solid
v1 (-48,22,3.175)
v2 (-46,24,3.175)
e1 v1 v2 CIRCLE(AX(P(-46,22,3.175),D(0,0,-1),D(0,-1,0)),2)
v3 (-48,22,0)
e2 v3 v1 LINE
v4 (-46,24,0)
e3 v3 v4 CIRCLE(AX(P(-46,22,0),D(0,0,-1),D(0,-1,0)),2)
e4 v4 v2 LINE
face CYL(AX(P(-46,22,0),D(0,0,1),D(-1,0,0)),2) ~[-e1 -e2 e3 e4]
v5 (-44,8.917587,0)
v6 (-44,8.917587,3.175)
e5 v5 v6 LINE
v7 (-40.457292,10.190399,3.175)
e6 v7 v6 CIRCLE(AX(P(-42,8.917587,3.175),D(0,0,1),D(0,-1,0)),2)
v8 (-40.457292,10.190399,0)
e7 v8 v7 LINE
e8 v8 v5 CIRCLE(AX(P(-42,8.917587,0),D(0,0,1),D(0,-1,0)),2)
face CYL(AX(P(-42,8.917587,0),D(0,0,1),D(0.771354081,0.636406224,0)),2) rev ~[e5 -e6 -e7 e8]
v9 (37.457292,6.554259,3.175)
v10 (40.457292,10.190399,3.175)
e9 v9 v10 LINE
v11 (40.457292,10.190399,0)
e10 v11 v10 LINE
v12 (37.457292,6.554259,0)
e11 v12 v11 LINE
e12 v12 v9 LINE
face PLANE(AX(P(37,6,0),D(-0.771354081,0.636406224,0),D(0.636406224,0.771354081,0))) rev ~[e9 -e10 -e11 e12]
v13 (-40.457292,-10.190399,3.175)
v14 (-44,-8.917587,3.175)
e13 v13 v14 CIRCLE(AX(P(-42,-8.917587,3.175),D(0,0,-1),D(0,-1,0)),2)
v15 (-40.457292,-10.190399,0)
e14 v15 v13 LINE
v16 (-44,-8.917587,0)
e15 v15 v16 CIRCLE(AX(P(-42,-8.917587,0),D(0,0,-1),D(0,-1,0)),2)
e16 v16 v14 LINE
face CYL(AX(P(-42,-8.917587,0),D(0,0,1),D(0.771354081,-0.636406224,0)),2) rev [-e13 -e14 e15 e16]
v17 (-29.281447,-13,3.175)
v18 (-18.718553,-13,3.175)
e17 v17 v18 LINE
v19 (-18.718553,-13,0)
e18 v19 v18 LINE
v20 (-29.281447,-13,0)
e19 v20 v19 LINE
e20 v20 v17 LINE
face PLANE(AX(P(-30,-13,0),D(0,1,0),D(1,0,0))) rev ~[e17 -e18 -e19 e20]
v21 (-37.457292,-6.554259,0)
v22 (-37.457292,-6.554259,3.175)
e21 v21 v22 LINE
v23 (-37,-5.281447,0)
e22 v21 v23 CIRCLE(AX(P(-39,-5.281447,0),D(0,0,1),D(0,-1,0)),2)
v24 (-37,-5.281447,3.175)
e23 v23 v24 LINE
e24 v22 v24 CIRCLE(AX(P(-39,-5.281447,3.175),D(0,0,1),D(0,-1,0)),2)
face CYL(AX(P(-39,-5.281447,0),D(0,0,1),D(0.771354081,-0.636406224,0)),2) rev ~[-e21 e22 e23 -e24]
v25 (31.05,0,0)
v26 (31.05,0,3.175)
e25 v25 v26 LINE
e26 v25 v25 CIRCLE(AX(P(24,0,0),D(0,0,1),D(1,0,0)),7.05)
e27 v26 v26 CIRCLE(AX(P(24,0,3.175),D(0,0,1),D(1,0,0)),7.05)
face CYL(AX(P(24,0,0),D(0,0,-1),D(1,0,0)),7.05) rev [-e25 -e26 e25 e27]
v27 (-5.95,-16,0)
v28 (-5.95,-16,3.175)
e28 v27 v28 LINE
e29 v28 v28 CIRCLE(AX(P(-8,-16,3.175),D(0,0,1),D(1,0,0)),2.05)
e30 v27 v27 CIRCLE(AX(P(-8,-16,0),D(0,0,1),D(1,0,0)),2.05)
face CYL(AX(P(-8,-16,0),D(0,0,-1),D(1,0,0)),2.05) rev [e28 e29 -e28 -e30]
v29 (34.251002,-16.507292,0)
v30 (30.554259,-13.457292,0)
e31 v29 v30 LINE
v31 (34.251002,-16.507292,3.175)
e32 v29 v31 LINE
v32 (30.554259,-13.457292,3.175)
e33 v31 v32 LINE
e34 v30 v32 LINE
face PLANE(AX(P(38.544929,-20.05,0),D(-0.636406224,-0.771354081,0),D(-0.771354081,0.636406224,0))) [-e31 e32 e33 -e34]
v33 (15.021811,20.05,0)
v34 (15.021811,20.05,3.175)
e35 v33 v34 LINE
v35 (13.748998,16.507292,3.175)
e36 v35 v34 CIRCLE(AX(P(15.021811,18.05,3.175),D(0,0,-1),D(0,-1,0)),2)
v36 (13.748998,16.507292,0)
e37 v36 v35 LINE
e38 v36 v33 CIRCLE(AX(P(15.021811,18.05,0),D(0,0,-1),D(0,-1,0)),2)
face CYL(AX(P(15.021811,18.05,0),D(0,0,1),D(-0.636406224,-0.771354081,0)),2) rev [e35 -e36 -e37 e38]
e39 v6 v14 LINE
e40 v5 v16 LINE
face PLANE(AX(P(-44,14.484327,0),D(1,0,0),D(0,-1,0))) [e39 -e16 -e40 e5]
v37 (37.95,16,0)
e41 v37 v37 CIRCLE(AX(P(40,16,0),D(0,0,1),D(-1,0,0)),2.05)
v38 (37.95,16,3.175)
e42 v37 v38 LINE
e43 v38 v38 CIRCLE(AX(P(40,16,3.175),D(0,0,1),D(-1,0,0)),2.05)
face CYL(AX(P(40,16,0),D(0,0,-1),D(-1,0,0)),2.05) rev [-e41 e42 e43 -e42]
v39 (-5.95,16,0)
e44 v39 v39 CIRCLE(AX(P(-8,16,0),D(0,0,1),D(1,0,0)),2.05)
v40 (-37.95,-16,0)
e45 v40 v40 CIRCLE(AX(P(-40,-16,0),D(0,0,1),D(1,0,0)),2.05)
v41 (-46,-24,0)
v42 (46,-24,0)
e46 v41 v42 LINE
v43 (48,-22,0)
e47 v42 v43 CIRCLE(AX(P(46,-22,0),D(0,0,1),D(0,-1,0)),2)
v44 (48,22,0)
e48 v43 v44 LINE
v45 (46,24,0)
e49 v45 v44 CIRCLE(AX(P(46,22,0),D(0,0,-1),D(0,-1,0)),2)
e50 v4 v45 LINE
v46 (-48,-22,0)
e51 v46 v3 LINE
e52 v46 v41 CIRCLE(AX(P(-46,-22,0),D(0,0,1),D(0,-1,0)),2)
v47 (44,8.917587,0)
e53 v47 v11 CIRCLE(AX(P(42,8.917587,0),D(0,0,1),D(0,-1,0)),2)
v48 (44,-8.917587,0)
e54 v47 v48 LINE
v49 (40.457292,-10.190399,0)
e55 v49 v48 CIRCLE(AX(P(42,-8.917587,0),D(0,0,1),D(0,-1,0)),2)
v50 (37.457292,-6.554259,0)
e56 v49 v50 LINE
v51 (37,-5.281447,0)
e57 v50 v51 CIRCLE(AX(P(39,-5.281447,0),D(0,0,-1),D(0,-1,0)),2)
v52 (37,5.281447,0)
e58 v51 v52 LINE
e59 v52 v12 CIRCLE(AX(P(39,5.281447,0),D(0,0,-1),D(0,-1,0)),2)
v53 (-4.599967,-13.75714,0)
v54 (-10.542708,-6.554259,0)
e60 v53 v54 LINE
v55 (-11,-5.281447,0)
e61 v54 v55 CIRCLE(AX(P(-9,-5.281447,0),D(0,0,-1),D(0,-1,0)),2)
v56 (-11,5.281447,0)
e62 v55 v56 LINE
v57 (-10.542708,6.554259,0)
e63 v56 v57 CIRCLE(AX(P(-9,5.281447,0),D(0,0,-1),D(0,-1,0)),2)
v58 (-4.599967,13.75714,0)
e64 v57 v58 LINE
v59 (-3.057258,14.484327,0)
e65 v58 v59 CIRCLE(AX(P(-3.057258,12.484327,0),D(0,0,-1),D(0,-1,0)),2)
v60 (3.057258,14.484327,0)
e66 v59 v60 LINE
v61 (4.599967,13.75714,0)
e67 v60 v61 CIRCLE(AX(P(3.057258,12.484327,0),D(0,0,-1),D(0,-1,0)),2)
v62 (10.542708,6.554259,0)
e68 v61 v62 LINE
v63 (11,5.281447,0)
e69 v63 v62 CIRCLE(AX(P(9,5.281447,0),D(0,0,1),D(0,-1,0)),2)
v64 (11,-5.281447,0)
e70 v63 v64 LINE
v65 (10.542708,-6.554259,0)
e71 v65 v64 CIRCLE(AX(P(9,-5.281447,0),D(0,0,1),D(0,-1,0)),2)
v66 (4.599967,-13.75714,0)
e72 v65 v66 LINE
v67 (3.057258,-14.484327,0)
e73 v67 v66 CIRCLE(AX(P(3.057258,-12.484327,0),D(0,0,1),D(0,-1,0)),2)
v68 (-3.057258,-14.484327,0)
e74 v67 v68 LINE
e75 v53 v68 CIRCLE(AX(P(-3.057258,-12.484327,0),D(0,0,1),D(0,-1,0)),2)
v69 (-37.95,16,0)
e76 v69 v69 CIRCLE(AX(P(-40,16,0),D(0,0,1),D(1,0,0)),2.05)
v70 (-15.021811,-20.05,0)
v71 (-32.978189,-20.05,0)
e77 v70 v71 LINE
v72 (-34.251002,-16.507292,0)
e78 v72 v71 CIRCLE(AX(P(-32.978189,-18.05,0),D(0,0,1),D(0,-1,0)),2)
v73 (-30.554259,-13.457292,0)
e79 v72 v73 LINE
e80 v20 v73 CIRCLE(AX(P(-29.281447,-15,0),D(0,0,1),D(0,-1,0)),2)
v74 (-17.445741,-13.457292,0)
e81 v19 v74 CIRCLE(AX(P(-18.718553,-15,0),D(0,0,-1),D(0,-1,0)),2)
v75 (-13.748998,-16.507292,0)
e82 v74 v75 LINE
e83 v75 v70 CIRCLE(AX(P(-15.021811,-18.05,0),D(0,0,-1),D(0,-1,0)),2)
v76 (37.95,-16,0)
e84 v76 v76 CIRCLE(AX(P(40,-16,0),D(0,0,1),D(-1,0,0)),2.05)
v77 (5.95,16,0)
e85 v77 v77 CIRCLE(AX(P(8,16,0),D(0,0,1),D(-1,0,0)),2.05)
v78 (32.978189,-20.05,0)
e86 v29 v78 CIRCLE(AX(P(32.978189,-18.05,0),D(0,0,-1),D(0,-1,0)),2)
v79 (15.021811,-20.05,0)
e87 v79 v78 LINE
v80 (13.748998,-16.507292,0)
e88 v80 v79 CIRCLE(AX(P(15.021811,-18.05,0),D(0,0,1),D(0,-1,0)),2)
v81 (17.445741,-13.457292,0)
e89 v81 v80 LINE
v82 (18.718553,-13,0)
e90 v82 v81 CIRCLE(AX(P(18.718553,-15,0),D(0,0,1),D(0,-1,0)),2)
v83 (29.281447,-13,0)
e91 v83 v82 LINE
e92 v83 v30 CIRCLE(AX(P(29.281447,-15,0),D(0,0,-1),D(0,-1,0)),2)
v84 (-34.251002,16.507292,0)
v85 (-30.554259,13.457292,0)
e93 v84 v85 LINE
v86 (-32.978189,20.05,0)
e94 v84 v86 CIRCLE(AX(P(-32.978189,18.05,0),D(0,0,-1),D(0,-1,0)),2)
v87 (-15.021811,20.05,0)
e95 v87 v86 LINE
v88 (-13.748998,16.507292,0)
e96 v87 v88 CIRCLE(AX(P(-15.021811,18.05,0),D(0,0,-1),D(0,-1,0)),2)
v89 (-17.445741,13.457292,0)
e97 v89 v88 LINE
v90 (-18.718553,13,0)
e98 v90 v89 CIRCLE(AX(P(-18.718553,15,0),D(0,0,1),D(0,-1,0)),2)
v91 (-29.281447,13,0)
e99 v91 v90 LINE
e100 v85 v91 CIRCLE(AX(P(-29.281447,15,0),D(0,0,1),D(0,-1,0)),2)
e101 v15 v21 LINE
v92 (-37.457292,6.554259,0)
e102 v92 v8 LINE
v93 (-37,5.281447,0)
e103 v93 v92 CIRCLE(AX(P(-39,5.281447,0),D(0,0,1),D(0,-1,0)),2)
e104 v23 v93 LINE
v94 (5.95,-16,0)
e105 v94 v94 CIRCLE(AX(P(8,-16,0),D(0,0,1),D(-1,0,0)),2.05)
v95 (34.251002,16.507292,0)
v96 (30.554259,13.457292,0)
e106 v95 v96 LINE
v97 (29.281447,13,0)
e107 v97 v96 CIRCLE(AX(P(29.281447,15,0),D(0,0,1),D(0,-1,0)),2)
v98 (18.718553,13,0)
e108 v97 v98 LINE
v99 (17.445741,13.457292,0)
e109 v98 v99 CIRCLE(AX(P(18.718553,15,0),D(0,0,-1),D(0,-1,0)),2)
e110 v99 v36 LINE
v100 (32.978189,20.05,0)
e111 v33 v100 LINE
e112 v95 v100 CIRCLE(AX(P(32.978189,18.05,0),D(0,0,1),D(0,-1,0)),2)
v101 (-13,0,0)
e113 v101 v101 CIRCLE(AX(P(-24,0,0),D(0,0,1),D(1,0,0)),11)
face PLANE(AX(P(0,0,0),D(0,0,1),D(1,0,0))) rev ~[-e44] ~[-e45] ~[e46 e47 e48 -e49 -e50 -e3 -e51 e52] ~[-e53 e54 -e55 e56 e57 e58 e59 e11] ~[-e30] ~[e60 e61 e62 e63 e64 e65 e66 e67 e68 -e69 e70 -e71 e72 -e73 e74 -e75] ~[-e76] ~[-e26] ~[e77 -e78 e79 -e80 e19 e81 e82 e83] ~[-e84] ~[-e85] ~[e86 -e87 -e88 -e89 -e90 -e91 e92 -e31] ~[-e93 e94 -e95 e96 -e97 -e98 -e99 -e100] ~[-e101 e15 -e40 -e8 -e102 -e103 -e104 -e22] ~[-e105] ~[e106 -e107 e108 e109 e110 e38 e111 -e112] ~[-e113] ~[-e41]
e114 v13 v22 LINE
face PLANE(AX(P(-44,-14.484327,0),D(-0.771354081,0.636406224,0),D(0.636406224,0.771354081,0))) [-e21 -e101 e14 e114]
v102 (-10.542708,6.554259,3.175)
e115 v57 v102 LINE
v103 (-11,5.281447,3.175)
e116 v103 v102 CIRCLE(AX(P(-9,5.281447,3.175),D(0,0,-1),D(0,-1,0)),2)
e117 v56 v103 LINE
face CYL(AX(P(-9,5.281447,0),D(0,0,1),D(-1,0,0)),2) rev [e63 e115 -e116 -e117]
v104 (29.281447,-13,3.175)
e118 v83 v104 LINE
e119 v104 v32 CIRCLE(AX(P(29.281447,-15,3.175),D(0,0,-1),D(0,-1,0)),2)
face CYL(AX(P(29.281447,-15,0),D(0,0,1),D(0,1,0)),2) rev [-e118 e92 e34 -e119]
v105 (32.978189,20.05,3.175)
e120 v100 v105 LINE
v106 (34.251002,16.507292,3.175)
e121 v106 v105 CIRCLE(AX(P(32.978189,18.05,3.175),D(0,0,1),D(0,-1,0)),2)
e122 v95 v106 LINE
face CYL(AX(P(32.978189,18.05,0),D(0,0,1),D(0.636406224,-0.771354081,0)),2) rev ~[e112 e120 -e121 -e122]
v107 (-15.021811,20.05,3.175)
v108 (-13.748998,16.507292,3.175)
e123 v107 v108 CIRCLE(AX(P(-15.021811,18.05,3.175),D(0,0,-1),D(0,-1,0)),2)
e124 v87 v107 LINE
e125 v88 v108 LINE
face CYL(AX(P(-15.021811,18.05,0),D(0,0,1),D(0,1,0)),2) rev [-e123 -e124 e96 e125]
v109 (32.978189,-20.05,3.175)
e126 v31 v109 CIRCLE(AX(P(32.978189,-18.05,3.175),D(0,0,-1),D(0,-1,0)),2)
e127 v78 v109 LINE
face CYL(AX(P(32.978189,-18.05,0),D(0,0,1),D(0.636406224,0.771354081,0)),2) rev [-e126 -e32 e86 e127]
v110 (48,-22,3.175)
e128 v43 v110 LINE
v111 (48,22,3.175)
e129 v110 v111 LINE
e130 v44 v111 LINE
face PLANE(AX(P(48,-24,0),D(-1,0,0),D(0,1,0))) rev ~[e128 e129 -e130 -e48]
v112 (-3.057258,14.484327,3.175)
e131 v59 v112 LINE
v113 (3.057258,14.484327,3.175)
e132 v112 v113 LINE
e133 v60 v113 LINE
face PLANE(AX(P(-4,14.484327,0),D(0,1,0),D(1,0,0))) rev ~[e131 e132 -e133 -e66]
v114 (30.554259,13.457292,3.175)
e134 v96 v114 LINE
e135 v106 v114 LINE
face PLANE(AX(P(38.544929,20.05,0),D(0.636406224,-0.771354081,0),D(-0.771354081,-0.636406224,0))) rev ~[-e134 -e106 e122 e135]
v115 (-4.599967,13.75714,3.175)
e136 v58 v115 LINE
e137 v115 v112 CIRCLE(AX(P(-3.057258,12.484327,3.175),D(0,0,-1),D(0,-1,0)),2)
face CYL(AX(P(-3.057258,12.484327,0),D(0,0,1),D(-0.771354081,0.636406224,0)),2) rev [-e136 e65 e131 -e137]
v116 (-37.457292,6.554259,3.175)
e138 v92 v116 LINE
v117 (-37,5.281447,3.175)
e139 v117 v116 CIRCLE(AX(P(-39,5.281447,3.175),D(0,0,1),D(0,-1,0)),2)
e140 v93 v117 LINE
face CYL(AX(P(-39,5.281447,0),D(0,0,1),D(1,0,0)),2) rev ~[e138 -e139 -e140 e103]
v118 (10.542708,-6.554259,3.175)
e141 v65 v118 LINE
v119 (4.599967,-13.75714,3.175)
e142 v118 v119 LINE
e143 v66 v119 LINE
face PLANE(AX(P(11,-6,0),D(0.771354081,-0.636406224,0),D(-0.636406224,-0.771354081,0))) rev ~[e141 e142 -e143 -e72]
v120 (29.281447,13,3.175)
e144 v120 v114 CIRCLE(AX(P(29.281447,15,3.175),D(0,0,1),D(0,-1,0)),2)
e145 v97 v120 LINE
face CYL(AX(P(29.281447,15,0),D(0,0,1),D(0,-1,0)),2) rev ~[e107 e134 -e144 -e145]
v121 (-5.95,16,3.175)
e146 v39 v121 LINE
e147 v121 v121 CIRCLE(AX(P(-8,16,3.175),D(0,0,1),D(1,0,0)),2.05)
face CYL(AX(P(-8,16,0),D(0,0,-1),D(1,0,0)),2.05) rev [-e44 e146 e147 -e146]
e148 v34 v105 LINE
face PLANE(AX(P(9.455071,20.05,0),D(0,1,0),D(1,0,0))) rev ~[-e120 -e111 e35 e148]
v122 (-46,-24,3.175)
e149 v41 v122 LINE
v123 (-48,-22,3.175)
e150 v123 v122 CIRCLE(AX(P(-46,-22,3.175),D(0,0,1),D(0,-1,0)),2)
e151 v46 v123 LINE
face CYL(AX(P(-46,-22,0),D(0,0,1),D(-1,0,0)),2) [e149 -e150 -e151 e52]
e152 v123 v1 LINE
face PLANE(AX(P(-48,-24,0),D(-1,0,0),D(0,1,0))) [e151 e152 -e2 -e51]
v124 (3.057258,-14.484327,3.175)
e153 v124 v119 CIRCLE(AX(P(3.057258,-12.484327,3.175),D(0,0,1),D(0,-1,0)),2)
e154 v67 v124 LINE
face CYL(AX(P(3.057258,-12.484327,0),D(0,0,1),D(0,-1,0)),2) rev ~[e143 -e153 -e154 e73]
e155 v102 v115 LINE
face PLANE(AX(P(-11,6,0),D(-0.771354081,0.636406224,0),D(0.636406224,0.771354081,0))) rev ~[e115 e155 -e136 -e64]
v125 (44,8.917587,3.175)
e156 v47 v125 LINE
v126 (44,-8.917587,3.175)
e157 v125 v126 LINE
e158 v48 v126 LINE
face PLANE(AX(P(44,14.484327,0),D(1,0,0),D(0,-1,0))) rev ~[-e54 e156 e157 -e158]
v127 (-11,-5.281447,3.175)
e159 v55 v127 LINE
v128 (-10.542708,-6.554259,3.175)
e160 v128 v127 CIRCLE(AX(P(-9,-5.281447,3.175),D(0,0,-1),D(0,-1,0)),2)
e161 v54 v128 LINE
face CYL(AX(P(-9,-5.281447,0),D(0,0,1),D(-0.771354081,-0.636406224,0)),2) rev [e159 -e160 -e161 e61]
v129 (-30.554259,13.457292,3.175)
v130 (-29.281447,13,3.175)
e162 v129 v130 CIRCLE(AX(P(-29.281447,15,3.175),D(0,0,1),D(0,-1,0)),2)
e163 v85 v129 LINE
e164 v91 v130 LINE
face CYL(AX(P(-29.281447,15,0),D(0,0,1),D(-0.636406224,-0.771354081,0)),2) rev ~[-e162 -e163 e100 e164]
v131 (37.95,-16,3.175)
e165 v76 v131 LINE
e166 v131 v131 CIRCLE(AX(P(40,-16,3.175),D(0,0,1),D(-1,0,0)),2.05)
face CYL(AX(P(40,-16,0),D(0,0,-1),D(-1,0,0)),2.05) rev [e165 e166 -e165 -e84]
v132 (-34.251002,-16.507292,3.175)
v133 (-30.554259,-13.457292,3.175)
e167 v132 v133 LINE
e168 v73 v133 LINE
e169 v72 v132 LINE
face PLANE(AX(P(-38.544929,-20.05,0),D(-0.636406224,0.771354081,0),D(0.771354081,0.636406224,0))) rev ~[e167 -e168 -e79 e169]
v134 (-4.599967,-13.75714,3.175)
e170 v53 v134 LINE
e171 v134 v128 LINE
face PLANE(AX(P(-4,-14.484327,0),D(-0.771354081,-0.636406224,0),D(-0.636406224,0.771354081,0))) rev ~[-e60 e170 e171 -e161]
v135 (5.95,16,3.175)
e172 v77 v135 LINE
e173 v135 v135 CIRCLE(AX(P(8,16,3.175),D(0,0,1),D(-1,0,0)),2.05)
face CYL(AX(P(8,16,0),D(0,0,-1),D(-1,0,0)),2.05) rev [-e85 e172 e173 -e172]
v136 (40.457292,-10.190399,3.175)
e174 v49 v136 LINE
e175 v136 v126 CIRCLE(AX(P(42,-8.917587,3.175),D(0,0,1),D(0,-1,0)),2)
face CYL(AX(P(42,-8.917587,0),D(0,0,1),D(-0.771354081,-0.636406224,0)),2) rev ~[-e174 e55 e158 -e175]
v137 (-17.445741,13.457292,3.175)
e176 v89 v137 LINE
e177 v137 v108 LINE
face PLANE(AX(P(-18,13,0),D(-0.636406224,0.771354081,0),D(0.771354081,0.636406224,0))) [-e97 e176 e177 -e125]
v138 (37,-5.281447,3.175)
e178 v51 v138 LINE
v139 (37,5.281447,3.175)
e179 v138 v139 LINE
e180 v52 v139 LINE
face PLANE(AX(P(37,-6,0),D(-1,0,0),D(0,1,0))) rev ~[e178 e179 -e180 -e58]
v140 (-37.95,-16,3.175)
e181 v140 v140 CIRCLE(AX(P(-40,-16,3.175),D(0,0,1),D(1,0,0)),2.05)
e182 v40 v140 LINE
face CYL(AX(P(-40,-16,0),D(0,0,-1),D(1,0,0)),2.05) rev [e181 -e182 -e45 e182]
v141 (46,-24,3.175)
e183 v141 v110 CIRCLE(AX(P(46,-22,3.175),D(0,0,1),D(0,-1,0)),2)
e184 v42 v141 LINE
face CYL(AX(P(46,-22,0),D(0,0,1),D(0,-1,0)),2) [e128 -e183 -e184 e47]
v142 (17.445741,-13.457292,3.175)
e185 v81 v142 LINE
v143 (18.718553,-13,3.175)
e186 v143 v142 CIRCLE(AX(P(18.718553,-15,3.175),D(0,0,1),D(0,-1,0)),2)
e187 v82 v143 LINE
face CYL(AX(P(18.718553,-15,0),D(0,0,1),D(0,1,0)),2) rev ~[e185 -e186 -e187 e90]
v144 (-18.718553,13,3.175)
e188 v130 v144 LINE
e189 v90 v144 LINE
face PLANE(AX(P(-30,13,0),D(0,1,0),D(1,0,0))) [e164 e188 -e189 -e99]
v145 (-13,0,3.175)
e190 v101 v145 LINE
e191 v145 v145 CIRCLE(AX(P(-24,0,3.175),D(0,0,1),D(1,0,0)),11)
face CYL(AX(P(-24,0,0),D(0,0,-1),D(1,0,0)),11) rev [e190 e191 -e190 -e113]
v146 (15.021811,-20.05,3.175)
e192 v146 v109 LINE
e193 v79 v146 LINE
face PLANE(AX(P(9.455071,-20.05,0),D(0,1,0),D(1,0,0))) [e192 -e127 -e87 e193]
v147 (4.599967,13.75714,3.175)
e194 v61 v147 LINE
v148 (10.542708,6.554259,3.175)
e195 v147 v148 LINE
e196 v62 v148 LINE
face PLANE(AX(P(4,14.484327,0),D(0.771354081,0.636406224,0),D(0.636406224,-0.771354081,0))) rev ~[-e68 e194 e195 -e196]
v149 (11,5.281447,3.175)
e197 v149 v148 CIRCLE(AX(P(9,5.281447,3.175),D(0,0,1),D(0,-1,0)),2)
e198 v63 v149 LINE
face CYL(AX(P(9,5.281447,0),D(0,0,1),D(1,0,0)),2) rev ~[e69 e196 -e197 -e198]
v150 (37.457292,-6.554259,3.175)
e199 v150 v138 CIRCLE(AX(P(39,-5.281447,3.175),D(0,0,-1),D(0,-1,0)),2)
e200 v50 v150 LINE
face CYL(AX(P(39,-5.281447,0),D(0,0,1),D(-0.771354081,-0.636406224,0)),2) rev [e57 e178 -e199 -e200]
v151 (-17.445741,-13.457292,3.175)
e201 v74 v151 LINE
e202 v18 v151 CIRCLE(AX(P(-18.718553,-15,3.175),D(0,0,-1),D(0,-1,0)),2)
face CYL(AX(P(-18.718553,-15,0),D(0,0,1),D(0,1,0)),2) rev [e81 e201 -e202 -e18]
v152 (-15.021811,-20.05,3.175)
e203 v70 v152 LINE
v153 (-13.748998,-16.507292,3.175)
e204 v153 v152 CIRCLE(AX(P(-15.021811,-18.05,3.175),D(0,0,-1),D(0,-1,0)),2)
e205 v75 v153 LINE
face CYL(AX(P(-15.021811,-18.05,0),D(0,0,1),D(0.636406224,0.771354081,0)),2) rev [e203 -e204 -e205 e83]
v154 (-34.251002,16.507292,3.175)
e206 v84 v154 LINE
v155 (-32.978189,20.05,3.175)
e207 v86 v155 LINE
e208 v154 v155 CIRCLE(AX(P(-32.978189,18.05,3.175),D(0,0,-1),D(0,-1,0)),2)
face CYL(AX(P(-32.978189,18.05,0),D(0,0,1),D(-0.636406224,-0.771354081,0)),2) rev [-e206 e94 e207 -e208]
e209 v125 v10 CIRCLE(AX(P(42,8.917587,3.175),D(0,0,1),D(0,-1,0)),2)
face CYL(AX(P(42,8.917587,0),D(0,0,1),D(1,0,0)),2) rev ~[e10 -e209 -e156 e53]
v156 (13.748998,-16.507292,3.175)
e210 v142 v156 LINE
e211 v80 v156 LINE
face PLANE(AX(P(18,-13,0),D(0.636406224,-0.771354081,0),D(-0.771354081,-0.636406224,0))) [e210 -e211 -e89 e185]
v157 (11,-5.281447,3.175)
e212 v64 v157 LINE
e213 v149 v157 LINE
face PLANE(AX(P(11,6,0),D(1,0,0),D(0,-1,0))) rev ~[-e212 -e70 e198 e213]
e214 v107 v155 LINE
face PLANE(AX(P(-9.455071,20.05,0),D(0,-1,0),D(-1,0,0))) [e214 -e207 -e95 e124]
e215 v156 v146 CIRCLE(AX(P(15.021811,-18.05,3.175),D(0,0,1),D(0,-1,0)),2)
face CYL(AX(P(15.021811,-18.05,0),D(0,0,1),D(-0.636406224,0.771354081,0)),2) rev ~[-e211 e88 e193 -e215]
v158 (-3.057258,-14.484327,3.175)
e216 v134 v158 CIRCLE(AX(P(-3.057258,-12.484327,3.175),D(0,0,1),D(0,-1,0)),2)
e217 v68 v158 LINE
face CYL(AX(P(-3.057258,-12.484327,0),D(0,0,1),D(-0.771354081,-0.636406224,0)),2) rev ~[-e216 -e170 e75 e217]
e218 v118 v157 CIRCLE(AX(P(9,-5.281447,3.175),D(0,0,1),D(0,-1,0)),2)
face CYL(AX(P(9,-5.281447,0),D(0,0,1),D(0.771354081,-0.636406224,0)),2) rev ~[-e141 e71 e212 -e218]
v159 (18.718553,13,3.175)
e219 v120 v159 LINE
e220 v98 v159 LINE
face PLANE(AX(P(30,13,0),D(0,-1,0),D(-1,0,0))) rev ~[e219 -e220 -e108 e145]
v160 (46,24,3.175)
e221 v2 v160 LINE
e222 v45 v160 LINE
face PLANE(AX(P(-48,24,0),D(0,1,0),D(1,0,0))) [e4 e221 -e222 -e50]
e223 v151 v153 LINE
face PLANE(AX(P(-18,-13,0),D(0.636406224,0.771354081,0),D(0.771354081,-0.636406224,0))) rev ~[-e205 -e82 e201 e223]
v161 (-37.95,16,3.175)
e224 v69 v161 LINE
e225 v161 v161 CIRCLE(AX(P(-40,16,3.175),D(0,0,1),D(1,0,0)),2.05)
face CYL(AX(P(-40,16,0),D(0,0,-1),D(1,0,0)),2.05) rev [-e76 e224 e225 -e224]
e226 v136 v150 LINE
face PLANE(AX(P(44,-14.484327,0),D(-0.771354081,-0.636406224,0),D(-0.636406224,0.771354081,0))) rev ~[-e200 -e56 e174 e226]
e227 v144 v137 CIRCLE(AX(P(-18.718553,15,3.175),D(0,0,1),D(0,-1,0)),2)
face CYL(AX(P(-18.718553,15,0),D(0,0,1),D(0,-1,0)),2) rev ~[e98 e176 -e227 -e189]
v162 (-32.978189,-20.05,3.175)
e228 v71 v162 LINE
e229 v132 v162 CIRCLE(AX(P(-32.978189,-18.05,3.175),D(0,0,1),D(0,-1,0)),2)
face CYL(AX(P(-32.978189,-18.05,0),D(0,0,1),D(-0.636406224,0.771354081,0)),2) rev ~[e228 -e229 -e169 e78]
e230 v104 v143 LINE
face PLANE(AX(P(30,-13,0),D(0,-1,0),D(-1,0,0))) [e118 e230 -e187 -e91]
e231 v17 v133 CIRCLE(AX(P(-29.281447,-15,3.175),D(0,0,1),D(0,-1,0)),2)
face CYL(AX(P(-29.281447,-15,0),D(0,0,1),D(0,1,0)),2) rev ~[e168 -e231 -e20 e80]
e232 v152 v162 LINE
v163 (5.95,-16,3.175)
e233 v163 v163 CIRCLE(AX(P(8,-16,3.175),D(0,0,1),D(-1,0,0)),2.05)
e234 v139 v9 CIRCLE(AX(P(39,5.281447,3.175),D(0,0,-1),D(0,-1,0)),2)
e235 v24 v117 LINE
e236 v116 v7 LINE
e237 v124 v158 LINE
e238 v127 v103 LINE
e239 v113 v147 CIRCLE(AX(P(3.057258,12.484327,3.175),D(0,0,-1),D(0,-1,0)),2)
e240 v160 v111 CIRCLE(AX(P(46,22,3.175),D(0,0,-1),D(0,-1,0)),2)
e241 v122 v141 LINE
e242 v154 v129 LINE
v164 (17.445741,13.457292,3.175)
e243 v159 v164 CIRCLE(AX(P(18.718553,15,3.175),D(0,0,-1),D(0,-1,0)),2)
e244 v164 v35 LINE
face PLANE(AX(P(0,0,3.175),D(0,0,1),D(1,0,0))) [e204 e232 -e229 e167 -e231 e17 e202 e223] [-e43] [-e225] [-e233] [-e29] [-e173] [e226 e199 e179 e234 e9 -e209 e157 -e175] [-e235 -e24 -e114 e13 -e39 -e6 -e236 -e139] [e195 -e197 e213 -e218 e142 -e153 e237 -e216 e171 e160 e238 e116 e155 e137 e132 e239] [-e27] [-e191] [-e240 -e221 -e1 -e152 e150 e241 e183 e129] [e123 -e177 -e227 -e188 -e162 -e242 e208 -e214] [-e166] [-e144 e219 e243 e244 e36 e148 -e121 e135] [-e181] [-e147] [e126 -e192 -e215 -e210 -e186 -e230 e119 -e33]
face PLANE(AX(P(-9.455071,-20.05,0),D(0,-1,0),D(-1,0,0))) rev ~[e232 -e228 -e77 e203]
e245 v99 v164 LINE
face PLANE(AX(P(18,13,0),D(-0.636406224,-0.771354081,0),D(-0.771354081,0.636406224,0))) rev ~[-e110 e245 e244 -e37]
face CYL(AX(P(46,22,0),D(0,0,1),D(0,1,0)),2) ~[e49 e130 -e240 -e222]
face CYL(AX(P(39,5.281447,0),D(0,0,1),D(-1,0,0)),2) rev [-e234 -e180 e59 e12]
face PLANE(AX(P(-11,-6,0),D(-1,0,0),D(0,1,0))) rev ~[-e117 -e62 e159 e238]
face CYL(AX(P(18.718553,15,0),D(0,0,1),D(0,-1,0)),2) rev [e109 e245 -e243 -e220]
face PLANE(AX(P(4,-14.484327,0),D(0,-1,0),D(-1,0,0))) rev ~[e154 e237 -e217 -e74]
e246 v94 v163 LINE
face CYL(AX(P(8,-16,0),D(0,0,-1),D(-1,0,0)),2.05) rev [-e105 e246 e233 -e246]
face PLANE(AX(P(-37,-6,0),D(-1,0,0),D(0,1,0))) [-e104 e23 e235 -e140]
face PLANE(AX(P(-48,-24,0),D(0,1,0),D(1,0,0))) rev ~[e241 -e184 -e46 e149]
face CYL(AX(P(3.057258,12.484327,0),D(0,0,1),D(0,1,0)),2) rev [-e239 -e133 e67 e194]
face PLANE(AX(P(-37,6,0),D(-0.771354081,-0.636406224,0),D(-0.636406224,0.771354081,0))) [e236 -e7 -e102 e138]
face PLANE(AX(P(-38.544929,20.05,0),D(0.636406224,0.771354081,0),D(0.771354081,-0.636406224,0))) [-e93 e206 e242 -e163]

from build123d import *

# Parameters (mm, degrees)
SKETCH1_W           = 96
SKETCH1_H           = 48
SKETCH1_R           = 2.05
SKETCH1_R_2         = 11
SKETCH1_R_3         = 7.05
BOSS_EXTRUDE1_DEPTH = 3.175
FILLET1_R           = 2


with BuildPart() as part:
    # Sketch1 → Boss-Extrude1 (new body)
    with BuildSketch(Plane.XY):
        Rectangle(SKETCH1_W, SKETCH1_H)
        with Locations((-40, 16)):
            Circle(SKETCH1_R, mode=Mode.SUBTRACT)
        with Locations((-8, 16)):
            Circle(SKETCH1_R, mode=Mode.SUBTRACT)
        with Locations((-8, -16)):
            Circle(SKETCH1_R, mode=Mode.SUBTRACT)
        with Locations((-40, -16)):
            Circle(SKETCH1_R, mode=Mode.SUBTRACT)
        with Locations((-24, 0)):
            Circle(SKETCH1_R_2, mode=Mode.SUBTRACT)
        with Locations(Location((8, 16, 0), (0, 0, 180))):
            Circle(SKETCH1_R, mode=Mode.SUBTRACT)
        with Locations(Location((8, -16, 0), (0, 0, 180))):
            Circle(SKETCH1_R, mode=Mode.SUBTRACT)
        with Locations(Location((40, -16, 0), (0, 0, 180))):
            Circle(SKETCH1_R, mode=Mode.SUBTRACT)
        with Locations(Location((40, 16, 0), (0, 0, 180))):
            Circle(SKETCH1_R, mode=Mode.SUBTRACT)
        with Locations((24, 0)):
            Circle(SKETCH1_R_3, mode=Mode.SUBTRACT)
        Polygon((-38.544929421, 20.05), (-30, 13), (-18, 13), (-9.455070579, 20.05), align=None, mode=Mode.SUBTRACT)
        Polygon((-18, -13), (-9.455070579, -20.05), (-38.544929421, -20.05), (-30, -13), align=None, mode=Mode.SUBTRACT)
        Polygon((-11, -6), (-11, 6), (-4, 14.484327085), (4, 14.484327085), (11, 6), (11, -6), (4, -14.484327085), (-4, -14.484327085), align=None, mode=Mode.SUBTRACT)
        Polygon((30, -13), (18, -13), (9.455070579, -20.05), (38.544929421, -20.05), align=None, mode=Mode.SUBTRACT)
        Polygon((37, -6), (37, 6), (44, 14.484327085), (44, -14.484327085), align=None, mode=Mode.SUBTRACT)
        Polygon((18, 13), (9.455070579, 20.05), (38.544929421, 20.05), (30, 13), align=None, mode=Mode.SUBTRACT)
        Polygon((-44, -14.484327085), (-37, -6), (-37, 6), (-44, 14.484327085), align=None, mode=Mode.SUBTRACT)
    extrude(amount=BOSS_EXTRUDE1_DEPTH)

    # Fillet1
    fillet1_edges = [part.edges().sort_by_distance(p)[0] for p in [
        (38.544929421, -20.05, 1.5875),
        (30, -13, 1.5875),
        (18, -13, 1.5875),
        (9.455070579, -20.05, 1.5875),
        (37, -6, 1.5875),
        (44, -14.484327085, 1.5875),
        (44, 14.484327085, 1.5875),
        (37, 6, 1.5875),
        (18, 13, 1.5875),
        (30, 13, 1.5875),
        (38.544929421, 20.05, 1.5875),
        (9.455070579, 20.05, 1.5875),
        (-9.455070579, 20.05, 1.5875),
        (-38.544929421, 20.05, 1.5875),
        (-30, 13, 1.5875),
        (-18, 13, 1.5875),
        (-11, -6, 1.5875),
        (-4, -14.484327085, 1.5875),
        (4, -14.484327085, 1.5875),
        (11, -6, 1.5875),
        (11, 6, 1.5875),
        (4, 14.484327085, 1.5875),
        (-4, 14.484327085, 1.5875),
        (-11, 6, 1.5875),
        (-37, -6, 1.5875),
        (-37, 6, 1.5875),
        (-44, 14.484327085, 1.5875),
        (-44, -14.484327085, 1.5875),
        (-48, 24, 1.5875),
        (48, 24, 1.5875),
        (48, -24, 1.5875),
        (-48, -24, 1.5875),
        (-18, -13, 1.5875),
        (-30, -13, 1.5875),
        (-38.544929421, -20.05, 1.5875),
        (-9.455070579, -20.05, 1.5875),
    ]]
    fillet(fillet1_edges, radius=FILLET1_R)


solid = part.part
